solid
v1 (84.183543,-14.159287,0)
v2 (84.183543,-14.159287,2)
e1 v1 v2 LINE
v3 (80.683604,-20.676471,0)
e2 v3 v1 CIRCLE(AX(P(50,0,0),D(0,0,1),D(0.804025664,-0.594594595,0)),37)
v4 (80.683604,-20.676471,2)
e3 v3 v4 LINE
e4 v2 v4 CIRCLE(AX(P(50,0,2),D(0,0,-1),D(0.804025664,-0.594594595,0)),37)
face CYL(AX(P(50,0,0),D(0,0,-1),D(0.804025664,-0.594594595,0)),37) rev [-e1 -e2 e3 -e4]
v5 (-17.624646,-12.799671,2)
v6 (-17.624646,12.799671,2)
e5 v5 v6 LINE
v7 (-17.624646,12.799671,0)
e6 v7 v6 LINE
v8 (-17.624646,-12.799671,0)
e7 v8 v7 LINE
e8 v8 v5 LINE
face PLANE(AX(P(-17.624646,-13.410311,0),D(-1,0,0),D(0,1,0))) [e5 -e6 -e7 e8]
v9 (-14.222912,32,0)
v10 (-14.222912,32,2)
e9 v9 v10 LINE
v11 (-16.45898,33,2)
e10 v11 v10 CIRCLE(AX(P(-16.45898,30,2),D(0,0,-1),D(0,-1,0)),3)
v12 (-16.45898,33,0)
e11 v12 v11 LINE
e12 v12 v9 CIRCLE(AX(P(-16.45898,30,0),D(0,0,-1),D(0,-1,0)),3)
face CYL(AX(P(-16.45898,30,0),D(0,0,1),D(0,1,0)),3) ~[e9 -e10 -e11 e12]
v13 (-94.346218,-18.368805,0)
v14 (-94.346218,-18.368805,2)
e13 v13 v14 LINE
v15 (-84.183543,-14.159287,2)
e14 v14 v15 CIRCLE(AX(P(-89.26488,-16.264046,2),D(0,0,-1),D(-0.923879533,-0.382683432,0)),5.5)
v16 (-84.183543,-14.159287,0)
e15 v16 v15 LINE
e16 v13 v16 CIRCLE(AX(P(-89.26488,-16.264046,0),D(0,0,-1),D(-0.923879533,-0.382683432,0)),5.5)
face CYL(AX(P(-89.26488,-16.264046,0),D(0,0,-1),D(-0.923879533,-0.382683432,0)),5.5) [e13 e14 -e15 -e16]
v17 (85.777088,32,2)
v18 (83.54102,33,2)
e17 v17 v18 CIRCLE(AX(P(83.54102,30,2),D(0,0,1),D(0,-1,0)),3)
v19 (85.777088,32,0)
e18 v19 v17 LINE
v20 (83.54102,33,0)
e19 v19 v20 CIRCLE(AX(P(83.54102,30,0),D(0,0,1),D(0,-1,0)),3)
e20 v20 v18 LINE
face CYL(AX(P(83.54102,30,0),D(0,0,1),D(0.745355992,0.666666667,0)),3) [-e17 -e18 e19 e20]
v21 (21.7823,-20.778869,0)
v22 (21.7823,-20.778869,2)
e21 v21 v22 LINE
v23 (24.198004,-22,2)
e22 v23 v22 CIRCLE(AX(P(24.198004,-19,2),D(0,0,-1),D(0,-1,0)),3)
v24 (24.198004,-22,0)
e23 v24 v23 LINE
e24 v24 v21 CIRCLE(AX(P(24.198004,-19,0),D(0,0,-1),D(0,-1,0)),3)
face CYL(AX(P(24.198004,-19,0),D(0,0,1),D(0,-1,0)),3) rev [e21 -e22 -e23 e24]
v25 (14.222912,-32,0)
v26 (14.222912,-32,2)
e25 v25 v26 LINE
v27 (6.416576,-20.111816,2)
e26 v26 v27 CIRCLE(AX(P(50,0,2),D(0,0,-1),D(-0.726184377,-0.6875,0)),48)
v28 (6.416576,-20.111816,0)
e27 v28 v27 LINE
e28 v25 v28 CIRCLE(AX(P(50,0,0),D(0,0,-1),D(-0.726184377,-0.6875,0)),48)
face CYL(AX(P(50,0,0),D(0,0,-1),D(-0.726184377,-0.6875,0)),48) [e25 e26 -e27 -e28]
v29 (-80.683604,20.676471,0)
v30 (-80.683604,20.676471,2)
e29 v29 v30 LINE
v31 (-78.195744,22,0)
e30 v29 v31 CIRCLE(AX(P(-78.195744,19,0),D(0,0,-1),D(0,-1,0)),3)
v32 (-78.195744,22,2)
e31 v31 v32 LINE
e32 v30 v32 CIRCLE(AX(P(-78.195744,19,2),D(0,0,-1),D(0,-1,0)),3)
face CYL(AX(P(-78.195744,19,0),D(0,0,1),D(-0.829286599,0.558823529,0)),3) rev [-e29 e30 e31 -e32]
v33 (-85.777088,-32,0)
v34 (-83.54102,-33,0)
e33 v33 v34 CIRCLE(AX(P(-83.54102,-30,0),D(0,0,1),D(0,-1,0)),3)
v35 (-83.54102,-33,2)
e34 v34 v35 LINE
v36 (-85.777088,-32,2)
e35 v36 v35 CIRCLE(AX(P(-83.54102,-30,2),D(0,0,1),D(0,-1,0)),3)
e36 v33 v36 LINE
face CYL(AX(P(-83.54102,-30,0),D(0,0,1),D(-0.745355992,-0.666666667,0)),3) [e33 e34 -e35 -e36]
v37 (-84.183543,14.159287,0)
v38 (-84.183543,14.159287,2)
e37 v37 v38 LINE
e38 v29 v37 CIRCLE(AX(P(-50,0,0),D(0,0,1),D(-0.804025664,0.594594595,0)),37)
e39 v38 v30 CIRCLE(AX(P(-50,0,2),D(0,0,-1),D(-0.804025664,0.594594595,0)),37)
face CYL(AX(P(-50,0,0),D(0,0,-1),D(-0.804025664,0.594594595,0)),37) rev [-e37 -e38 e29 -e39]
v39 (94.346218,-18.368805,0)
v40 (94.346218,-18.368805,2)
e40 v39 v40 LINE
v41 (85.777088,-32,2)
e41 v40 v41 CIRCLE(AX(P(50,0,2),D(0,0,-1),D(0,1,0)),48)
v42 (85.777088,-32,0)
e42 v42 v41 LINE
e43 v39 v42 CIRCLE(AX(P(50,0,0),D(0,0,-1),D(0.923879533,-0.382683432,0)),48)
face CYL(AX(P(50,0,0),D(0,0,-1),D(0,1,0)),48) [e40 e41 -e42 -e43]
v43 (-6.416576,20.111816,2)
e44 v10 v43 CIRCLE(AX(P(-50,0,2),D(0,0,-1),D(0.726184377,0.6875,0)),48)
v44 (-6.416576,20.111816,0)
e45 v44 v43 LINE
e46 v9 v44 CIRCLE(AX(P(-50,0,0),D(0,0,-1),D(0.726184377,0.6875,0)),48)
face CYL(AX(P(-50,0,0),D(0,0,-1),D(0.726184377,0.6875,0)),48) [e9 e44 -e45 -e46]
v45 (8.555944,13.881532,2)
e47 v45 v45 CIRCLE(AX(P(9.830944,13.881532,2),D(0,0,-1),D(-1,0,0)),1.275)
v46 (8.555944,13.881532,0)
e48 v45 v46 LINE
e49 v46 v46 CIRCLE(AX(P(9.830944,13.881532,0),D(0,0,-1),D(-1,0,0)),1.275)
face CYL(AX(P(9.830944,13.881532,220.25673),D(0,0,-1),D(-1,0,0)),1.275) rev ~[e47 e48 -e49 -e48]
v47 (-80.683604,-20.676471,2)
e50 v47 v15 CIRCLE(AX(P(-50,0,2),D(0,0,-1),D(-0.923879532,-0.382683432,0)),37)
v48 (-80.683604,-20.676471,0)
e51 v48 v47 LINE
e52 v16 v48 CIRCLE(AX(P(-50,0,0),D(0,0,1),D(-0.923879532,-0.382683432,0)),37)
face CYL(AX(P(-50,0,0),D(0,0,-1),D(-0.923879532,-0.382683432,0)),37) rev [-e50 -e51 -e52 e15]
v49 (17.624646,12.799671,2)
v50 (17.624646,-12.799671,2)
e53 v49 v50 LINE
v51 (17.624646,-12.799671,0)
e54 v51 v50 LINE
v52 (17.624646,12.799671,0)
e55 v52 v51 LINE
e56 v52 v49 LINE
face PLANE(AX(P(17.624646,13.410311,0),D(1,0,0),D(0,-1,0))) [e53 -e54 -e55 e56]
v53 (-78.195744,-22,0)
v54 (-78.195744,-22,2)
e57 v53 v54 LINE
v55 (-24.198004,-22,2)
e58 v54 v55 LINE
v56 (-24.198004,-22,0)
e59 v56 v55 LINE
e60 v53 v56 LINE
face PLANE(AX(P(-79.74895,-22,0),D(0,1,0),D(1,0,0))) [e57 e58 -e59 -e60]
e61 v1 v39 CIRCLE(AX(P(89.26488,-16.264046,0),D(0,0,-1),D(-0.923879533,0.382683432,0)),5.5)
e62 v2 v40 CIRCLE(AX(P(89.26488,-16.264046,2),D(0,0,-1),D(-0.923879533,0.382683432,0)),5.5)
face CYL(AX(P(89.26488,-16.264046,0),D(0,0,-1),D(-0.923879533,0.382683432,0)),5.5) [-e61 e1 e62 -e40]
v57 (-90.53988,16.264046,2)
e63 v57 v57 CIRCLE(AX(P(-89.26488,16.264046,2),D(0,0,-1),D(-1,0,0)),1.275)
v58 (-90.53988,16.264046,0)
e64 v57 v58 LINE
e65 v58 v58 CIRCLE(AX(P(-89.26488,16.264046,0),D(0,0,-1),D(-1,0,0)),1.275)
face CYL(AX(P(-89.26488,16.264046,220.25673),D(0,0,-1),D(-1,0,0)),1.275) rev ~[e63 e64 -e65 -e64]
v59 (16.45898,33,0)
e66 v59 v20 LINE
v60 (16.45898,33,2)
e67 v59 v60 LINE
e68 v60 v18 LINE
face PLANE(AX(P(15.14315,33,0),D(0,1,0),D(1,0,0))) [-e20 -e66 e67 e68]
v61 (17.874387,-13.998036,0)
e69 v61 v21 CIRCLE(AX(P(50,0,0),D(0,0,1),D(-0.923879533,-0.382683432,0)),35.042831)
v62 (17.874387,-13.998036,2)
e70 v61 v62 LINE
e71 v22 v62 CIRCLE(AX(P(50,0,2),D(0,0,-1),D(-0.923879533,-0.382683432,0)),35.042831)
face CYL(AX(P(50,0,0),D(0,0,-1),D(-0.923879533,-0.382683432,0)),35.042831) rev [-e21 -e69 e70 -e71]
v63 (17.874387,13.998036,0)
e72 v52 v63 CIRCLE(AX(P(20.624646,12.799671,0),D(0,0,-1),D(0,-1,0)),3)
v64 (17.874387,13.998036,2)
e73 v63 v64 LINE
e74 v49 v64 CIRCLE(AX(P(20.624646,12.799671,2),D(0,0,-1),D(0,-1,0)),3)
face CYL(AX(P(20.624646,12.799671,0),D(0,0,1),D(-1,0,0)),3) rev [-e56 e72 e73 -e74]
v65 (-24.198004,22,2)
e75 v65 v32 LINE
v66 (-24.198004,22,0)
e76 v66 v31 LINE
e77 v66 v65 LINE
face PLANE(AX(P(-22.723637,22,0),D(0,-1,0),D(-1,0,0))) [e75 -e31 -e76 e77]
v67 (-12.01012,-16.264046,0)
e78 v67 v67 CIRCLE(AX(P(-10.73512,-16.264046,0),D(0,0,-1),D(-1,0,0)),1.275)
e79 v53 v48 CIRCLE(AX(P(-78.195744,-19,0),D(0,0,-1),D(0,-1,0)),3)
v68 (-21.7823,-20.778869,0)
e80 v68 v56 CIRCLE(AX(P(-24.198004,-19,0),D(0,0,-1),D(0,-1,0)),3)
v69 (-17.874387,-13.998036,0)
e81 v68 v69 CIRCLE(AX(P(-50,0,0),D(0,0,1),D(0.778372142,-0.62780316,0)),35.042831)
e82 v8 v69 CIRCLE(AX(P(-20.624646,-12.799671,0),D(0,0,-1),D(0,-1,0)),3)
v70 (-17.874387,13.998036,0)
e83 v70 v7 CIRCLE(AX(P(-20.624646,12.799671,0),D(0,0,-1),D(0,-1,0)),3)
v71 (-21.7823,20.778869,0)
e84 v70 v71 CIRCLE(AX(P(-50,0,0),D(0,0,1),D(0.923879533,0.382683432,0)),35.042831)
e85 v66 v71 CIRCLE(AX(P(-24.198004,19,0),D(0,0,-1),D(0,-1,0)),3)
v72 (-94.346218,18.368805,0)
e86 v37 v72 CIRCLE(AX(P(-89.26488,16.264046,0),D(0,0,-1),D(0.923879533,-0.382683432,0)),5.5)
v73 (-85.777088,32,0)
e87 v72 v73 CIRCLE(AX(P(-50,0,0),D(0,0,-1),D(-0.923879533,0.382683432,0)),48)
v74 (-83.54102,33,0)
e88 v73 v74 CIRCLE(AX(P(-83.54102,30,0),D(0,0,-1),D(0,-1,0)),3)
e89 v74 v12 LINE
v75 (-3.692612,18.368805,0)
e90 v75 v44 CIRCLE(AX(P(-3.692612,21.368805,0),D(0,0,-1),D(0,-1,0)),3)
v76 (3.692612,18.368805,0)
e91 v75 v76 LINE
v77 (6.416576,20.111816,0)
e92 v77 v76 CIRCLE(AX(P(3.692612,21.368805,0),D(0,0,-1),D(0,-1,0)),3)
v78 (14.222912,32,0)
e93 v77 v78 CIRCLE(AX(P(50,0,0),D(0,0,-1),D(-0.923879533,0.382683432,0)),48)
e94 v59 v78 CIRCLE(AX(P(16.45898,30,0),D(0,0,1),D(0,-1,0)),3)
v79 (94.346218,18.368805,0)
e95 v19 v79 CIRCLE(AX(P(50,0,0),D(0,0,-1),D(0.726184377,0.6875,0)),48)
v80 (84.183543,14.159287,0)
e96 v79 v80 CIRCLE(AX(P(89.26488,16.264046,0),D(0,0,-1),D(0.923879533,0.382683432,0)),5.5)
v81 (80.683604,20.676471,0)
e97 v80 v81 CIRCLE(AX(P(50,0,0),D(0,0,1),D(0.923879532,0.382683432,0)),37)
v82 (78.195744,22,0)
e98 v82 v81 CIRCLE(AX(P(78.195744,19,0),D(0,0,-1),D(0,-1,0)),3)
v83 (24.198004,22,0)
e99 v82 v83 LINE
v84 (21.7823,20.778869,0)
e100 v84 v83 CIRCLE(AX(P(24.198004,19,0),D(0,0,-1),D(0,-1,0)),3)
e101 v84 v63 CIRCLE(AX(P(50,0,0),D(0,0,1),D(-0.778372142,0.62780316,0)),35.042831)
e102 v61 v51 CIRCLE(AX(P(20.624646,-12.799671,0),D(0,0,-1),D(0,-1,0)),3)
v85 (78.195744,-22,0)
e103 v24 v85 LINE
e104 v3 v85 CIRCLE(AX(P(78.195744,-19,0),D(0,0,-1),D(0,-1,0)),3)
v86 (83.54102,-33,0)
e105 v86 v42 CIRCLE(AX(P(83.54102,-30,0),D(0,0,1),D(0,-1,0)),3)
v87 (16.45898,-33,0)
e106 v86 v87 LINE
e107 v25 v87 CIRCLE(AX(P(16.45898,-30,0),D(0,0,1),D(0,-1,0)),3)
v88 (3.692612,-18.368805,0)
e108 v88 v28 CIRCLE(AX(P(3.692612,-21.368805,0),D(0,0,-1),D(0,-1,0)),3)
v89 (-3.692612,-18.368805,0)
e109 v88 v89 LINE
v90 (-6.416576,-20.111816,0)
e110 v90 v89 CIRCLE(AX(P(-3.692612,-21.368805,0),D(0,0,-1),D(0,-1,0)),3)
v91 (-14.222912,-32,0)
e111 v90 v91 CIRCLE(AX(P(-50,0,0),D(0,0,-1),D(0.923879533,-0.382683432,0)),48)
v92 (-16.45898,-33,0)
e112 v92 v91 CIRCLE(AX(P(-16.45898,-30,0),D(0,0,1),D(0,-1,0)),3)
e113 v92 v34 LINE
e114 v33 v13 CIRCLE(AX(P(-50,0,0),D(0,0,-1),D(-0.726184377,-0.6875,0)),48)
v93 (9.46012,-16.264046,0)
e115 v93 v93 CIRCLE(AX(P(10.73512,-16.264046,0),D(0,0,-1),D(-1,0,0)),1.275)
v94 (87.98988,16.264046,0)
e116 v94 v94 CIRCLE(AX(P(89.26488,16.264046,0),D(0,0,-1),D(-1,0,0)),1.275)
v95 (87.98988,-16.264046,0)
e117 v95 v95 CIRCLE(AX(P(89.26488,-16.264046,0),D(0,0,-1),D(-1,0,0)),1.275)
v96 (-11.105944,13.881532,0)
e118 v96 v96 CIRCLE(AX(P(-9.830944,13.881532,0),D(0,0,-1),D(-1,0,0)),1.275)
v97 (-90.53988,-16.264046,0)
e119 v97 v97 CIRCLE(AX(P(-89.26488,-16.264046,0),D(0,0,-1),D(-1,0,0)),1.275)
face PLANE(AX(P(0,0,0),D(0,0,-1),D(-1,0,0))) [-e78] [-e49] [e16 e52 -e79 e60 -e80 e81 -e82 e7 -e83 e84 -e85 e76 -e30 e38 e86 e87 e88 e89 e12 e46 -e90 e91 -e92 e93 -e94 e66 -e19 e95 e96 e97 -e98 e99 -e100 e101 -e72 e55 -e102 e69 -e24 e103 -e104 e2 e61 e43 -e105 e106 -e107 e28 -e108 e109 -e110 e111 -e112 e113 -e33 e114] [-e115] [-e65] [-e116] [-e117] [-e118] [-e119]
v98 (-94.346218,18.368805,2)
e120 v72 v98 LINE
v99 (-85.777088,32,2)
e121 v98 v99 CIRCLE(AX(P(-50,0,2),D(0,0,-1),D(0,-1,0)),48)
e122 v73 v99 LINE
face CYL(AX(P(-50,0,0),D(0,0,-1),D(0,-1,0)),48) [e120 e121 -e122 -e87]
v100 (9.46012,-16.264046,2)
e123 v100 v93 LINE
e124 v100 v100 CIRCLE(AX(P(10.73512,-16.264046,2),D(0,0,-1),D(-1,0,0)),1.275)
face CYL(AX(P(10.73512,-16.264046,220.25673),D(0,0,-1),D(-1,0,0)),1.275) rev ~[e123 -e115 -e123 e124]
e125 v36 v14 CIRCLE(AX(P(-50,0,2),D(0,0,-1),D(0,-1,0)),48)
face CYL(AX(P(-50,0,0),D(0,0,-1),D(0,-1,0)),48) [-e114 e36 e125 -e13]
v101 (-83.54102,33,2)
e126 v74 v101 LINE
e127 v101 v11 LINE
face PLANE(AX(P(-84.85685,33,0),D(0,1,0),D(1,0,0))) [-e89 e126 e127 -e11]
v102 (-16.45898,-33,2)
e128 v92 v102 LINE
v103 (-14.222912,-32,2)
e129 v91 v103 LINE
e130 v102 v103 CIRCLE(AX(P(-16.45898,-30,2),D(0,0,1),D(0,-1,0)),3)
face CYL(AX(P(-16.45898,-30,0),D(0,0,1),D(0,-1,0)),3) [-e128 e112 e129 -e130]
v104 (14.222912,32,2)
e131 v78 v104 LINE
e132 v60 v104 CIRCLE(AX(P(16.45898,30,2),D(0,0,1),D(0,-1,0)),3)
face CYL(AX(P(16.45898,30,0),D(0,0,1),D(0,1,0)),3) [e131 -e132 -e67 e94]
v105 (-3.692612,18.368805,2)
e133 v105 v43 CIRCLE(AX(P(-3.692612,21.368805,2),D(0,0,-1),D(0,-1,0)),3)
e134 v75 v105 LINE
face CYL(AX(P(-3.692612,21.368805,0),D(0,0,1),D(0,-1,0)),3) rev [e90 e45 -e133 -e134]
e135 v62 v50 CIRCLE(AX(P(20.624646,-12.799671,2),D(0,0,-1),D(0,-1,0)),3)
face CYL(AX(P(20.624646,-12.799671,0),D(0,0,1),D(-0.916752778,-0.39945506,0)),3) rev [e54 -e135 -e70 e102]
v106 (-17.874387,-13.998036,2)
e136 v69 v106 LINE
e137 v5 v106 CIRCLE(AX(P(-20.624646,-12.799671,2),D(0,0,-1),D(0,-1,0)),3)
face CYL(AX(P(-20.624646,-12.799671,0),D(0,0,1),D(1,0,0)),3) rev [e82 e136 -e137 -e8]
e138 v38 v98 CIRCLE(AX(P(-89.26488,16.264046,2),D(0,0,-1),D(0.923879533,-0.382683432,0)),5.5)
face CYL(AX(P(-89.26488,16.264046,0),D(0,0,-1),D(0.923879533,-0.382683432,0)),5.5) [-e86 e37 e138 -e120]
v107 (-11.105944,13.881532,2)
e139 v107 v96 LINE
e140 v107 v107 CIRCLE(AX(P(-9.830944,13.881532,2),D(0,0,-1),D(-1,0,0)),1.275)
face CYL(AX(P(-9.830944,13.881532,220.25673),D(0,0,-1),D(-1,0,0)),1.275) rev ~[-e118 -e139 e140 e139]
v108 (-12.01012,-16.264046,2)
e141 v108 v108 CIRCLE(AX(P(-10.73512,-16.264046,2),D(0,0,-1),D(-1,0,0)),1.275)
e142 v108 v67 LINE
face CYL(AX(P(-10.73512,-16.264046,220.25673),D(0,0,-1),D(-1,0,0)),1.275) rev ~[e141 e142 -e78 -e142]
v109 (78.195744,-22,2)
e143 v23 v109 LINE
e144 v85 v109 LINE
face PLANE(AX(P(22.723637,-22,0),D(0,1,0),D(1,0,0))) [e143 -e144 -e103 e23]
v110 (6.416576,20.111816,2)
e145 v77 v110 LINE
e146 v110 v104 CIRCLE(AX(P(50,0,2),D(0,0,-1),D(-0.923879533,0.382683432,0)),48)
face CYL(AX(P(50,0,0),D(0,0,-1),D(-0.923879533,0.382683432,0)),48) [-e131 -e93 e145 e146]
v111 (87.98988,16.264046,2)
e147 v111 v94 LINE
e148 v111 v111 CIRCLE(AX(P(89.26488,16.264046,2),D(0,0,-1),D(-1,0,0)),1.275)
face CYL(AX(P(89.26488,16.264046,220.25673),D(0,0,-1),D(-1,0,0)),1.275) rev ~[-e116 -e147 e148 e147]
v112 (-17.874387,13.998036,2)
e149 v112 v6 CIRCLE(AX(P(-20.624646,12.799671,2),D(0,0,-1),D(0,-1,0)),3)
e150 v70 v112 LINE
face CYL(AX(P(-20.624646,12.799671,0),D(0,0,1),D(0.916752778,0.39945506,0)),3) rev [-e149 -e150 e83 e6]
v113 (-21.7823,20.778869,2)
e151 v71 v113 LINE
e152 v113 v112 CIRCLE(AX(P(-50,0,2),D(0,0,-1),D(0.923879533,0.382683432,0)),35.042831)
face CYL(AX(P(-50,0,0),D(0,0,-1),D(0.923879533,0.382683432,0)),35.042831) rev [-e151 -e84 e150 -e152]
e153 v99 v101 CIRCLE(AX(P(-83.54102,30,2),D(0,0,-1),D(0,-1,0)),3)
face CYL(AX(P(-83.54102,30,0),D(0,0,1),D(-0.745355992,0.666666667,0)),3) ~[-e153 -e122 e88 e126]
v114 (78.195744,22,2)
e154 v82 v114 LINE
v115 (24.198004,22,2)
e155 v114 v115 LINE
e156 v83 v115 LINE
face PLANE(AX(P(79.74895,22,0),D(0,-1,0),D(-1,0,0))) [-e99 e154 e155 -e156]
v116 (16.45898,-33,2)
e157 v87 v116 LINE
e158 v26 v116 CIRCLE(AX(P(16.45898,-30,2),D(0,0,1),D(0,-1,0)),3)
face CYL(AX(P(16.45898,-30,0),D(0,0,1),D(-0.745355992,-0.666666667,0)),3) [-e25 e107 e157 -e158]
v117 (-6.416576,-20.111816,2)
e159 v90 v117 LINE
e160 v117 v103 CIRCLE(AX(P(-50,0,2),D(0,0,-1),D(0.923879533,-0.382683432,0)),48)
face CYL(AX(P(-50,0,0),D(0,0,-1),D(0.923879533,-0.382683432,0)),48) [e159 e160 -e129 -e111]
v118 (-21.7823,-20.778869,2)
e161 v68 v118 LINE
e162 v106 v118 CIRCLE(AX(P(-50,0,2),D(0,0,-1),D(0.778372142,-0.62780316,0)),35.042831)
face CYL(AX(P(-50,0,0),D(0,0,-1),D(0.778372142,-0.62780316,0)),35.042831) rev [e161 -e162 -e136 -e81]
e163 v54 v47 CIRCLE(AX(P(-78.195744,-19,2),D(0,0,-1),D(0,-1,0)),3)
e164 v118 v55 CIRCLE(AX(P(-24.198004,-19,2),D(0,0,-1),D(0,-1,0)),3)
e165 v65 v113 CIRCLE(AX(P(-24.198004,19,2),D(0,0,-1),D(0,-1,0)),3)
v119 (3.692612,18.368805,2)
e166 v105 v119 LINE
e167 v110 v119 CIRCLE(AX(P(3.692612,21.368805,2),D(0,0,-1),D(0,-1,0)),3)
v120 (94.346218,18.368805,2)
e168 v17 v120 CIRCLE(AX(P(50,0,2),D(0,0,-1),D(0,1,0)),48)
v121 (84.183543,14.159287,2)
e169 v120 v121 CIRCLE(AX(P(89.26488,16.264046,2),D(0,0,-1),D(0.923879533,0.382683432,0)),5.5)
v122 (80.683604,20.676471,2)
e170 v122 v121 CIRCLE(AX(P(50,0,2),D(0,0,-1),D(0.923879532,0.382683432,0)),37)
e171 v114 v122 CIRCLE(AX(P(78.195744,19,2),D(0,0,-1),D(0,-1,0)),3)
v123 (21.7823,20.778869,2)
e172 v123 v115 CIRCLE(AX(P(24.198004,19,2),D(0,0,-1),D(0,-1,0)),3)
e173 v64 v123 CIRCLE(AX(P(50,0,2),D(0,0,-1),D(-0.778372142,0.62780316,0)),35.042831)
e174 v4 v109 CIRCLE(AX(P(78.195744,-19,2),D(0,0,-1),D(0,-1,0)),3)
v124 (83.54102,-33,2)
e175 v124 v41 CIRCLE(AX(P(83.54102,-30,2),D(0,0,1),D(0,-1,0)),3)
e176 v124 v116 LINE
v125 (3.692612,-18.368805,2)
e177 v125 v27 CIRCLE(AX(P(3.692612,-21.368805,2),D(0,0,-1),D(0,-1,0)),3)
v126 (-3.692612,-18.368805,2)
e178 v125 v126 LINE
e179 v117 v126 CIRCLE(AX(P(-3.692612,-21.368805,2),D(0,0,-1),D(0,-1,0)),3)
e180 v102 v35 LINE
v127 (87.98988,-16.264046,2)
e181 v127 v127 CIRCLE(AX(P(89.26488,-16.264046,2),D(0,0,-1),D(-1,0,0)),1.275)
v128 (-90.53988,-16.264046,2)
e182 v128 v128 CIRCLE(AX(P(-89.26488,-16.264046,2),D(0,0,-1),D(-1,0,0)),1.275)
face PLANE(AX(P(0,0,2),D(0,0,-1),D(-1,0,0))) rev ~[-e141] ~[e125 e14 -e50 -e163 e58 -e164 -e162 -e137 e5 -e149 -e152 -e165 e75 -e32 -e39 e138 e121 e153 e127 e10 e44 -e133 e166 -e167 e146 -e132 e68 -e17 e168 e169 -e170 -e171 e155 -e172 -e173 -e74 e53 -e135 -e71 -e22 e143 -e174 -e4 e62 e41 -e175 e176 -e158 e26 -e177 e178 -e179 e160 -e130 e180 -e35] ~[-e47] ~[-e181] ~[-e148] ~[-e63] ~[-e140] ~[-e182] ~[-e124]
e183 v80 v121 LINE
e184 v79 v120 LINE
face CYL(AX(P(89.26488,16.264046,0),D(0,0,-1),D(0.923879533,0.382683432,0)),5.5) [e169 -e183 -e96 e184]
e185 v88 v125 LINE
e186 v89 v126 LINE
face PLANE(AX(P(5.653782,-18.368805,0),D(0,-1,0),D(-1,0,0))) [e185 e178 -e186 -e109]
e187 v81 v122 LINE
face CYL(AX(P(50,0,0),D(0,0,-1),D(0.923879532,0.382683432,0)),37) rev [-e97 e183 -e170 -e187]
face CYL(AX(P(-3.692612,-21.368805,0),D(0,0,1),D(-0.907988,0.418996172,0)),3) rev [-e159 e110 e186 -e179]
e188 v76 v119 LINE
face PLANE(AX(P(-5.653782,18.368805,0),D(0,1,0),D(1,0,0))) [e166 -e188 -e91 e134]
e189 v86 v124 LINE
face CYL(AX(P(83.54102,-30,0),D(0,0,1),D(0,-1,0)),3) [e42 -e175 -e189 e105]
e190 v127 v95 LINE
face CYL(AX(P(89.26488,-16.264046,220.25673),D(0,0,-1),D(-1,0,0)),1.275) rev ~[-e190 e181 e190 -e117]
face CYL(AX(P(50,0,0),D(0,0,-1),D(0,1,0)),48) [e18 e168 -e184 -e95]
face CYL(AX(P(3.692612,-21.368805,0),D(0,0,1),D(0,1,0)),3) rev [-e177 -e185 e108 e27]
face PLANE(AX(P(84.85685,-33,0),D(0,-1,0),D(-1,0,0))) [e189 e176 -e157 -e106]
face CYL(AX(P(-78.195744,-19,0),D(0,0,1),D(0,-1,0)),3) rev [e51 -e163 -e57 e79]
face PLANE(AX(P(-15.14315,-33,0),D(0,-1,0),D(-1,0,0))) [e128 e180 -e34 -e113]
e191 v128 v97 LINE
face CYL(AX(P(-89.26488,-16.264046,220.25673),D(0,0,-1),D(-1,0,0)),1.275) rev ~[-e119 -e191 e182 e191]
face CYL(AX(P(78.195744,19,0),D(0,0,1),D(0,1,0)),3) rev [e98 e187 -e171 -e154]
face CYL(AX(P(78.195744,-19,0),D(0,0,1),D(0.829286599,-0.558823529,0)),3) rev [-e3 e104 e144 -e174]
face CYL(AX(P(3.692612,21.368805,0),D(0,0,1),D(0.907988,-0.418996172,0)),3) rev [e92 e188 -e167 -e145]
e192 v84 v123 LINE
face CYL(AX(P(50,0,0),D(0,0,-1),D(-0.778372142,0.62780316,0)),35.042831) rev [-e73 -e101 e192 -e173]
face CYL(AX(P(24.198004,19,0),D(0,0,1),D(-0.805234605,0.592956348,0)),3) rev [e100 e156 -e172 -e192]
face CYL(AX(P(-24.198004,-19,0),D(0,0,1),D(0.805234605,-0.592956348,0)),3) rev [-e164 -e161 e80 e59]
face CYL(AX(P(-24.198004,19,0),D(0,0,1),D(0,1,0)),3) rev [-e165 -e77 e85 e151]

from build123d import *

# Parameters (mm, degrees)
EXTRUDE_1_DEPTH      = 2
HOLE_WIZARD_M2_5_1_D = 2.55
SKETCH_5_OUTSIDE_W   = 241.652
SKETCH_5_OUTSIDE_H   = 141.652
CUT_EXTRUDE_1_DEPTH  = 10
FILLET_1_R           = 3


with BuildPart() as part:
    # 草图1 → 凸台-拉伸1 (new body)
    with BuildSketch(Plane.XY):
        with BuildLine():
            Line((-50, 48), (50, 48))
            ThreePointArc((50, 48), (98, 0), (50, -48))
            Line((50, -48), (-50, -48))
            ThreePointArc((-50, -48), (-98, 0), (-50, 48))
        make_face()
    extrude(amount=EXTRUDE_1_DEPTH)

    # M2.5 螺旋的螺纹孔钻头1 (through all)
    with Locations(Plane(origin=(-89.264880132, 16.264045876, 2), x_dir=(1, 0, 0), z_dir=(0, 0, 1))):
        with Locations((0, 0), (23.000834256, 23.000834256), (55.528926008, 23.000834256), (55.528926008, -55.528926008), (23.000834256, -55.528926008), (0, -32.528091752), (79.433936211, -2.382513767), (78.529760264, -32.528091752), (100, -32.528091752), (99.095824053, -2.382513767), (178.529760264, -32.528091752), (155.528926008, -55.528926008), (123.000834256, -55.528926008), (123.000834256, 23.000834256), (155.528926008, 23.000834256), (178.529760264, 0)):
            Hole(HOLE_WIZARD_M2_5_1_D / 2)

    # 草图5 outside → 切除-拉伸1 (cut)
    with BuildSketch(Plane.XY):
        Rectangle(SKETCH_5_OUTSIDE_W, SKETCH_5_OUTSIDE_H)
        with BuildLine():
            Line((-17.624645737, -13.410310822), (-17.624645737, 13.410310822))
            ThreePointArc((-17.624645737, 13.410310822), (-19.866504602, 17.8877739), (-22.723636606, 22))
            Line((-22.723636606, 22), (-50, 22))
            Line((-50, 22), (-79.748949561, 22))
            ThreePointArc((-79.748949561, 22), (-82.205746178, 18.215101238), (-84.183542703, 14.159286998))
            ThreePointArc((-84.183542703, 14.159286998), (-91.36963901, 11.182708447), (-94.346217561, 18.368804754))
            ThreePointArc((-94.346217561, 18.368804754), (-90.27157125, 26.118969143), (-84.856850116, 33))
            Line((-84.856850116, 33), (-50, 33))
            Line((-50, 33), (-15.143149884, 33))
            ThreePointArc((-15.143149884, 33), (-9.72842875, 26.118969143), (-5.653782439, 18.368804754))
            Line((-5.653782439, 18.368804754), (5.653782439, 18.368804754))
            ThreePointArc((5.653782439, 18.368804754), (9.72842875, 26.118969143), (15.143149884, 33))
            Line((15.143149884, 33), (50, 33))
            Line((50, 33), (84.856850116, 33))
            ThreePointArc((84.856850116, 33), (90.27157125, 26.118969143), (94.346217561, 18.368804754))
            ThreePointArc((94.346217561, 18.368804754), (91.36963901, 11.182708447), (84.183542703, 14.159286998))
            ThreePointArc((84.183542703, 14.159286998), (82.205746178, 18.215101238), (79.748949561, 22))
            Line((79.748949561, 22), (50, 22))
            Line((50, 22), (22.723636606, 22))
            ThreePointArc((22.723636606, 22), (19.866504602, 17.8877739), (17.624645737, 13.410310822))
            Line((17.624645737, 13.410310822), (17.624645737, -13.410310822))
            ThreePointArc((17.624645737, -13.410310822), (19.866504602, -17.8877739), (22.723636606, -22))
            Line((22.723636606, -22), (50, -22))
            Line((50, -22), (79.748949561, -22))
            ThreePointArc((79.748949561, -22), (82.205746178, -18.215101238), (84.183542703, -14.159286998))
            ThreePointArc((84.183542703, -14.159286998), (91.36963901, -11.182708447), (94.346217561, -18.368804754))
            ThreePointArc((94.346217561, -18.368804754), (90.27157125, -26.118969143), (84.856850116, -33))
            Line((84.856850116, -33), (50, -33))
            Line((50, -33), (15.143149884, -33))
            ThreePointArc((15.143149884, -33), (9.72842875, -26.118969143), (5.653782439, -18.368804754))
            Line((5.653782439, -18.368804754), (-5.653782439, -18.368804754))
            ThreePointArc((-5.653782439, -18.368804754), (-9.72842875, -26.118969143), (-15.143149884, -33))
            Line((-15.143149884, -33), (-50, -33))
            Line((-50, -33), (-84.856850116, -33))
            ThreePointArc((-84.856850116, -33), (-90.27157125, -26.118969143), (-94.346217561, -18.368804754))
            ThreePointArc((-94.346217561, -18.368804754), (-91.36963901, -11.182708447), (-84.183542703, -14.159286998))
            ThreePointArc((-84.183542703, -14.159286998), (-82.205746178, -18.215101238), (-79.748949561, -22))
            Line((-79.748949561, -22), (-50, -22))
            Line((-50, -22), (-22.723636606, -22))
            ThreePointArc((-22.723636606, -22), (-19.866504602, -17.8877739), (-17.624645737, -13.410310822))
        make_face(mode=Mode.SUBTRACT)
    extrude(amount=CUT_EXTRUDE_1_DEPTH, mode=Mode.SUBTRACT)

    # 圆角1
    fillet_1_edges = [part.edges().sort_by_distance(p)[0] for p in [
        (5.653782439, 18.368804754, 1),
        (-5.653782439, 18.368804754, 1),
        (-15.143149884, 33, 1),
        (-84.856850116, 33, 1),
        (-79.748949561, 22, 1),
        (-22.723636606, 22, 1),
        (-17.624645737, 13.410310822, 1),
        (-17.624645737, -13.410310822, 1),
        (-22.723636606, -22, 1),
        (-79.748949561, -22, 1),
        (-84.856850116, -33, 1),
        (-15.143149884, -33, 1),
        (-5.653782439, -18.368804754, 1),
        (5.653782439, -18.368804754, 1),
        (15.143149884, -33, 1),
        (84.856850116, -33, 1),
        (79.748949561, -22, 1),
        (22.723636606, -22, 1),
        (17.624645737, -13.410310822, 1),
        (17.624645737, 13.410310822, 1),
        (22.723636606, 22, 1),
        (79.748949561, 22, 1),
        (84.856850116, 33, 1),
        (15.143149884, 33, 1),
    ]]
    fillet(fillet_1_edges, radius=FILLET_1_R)


solid = part.part
